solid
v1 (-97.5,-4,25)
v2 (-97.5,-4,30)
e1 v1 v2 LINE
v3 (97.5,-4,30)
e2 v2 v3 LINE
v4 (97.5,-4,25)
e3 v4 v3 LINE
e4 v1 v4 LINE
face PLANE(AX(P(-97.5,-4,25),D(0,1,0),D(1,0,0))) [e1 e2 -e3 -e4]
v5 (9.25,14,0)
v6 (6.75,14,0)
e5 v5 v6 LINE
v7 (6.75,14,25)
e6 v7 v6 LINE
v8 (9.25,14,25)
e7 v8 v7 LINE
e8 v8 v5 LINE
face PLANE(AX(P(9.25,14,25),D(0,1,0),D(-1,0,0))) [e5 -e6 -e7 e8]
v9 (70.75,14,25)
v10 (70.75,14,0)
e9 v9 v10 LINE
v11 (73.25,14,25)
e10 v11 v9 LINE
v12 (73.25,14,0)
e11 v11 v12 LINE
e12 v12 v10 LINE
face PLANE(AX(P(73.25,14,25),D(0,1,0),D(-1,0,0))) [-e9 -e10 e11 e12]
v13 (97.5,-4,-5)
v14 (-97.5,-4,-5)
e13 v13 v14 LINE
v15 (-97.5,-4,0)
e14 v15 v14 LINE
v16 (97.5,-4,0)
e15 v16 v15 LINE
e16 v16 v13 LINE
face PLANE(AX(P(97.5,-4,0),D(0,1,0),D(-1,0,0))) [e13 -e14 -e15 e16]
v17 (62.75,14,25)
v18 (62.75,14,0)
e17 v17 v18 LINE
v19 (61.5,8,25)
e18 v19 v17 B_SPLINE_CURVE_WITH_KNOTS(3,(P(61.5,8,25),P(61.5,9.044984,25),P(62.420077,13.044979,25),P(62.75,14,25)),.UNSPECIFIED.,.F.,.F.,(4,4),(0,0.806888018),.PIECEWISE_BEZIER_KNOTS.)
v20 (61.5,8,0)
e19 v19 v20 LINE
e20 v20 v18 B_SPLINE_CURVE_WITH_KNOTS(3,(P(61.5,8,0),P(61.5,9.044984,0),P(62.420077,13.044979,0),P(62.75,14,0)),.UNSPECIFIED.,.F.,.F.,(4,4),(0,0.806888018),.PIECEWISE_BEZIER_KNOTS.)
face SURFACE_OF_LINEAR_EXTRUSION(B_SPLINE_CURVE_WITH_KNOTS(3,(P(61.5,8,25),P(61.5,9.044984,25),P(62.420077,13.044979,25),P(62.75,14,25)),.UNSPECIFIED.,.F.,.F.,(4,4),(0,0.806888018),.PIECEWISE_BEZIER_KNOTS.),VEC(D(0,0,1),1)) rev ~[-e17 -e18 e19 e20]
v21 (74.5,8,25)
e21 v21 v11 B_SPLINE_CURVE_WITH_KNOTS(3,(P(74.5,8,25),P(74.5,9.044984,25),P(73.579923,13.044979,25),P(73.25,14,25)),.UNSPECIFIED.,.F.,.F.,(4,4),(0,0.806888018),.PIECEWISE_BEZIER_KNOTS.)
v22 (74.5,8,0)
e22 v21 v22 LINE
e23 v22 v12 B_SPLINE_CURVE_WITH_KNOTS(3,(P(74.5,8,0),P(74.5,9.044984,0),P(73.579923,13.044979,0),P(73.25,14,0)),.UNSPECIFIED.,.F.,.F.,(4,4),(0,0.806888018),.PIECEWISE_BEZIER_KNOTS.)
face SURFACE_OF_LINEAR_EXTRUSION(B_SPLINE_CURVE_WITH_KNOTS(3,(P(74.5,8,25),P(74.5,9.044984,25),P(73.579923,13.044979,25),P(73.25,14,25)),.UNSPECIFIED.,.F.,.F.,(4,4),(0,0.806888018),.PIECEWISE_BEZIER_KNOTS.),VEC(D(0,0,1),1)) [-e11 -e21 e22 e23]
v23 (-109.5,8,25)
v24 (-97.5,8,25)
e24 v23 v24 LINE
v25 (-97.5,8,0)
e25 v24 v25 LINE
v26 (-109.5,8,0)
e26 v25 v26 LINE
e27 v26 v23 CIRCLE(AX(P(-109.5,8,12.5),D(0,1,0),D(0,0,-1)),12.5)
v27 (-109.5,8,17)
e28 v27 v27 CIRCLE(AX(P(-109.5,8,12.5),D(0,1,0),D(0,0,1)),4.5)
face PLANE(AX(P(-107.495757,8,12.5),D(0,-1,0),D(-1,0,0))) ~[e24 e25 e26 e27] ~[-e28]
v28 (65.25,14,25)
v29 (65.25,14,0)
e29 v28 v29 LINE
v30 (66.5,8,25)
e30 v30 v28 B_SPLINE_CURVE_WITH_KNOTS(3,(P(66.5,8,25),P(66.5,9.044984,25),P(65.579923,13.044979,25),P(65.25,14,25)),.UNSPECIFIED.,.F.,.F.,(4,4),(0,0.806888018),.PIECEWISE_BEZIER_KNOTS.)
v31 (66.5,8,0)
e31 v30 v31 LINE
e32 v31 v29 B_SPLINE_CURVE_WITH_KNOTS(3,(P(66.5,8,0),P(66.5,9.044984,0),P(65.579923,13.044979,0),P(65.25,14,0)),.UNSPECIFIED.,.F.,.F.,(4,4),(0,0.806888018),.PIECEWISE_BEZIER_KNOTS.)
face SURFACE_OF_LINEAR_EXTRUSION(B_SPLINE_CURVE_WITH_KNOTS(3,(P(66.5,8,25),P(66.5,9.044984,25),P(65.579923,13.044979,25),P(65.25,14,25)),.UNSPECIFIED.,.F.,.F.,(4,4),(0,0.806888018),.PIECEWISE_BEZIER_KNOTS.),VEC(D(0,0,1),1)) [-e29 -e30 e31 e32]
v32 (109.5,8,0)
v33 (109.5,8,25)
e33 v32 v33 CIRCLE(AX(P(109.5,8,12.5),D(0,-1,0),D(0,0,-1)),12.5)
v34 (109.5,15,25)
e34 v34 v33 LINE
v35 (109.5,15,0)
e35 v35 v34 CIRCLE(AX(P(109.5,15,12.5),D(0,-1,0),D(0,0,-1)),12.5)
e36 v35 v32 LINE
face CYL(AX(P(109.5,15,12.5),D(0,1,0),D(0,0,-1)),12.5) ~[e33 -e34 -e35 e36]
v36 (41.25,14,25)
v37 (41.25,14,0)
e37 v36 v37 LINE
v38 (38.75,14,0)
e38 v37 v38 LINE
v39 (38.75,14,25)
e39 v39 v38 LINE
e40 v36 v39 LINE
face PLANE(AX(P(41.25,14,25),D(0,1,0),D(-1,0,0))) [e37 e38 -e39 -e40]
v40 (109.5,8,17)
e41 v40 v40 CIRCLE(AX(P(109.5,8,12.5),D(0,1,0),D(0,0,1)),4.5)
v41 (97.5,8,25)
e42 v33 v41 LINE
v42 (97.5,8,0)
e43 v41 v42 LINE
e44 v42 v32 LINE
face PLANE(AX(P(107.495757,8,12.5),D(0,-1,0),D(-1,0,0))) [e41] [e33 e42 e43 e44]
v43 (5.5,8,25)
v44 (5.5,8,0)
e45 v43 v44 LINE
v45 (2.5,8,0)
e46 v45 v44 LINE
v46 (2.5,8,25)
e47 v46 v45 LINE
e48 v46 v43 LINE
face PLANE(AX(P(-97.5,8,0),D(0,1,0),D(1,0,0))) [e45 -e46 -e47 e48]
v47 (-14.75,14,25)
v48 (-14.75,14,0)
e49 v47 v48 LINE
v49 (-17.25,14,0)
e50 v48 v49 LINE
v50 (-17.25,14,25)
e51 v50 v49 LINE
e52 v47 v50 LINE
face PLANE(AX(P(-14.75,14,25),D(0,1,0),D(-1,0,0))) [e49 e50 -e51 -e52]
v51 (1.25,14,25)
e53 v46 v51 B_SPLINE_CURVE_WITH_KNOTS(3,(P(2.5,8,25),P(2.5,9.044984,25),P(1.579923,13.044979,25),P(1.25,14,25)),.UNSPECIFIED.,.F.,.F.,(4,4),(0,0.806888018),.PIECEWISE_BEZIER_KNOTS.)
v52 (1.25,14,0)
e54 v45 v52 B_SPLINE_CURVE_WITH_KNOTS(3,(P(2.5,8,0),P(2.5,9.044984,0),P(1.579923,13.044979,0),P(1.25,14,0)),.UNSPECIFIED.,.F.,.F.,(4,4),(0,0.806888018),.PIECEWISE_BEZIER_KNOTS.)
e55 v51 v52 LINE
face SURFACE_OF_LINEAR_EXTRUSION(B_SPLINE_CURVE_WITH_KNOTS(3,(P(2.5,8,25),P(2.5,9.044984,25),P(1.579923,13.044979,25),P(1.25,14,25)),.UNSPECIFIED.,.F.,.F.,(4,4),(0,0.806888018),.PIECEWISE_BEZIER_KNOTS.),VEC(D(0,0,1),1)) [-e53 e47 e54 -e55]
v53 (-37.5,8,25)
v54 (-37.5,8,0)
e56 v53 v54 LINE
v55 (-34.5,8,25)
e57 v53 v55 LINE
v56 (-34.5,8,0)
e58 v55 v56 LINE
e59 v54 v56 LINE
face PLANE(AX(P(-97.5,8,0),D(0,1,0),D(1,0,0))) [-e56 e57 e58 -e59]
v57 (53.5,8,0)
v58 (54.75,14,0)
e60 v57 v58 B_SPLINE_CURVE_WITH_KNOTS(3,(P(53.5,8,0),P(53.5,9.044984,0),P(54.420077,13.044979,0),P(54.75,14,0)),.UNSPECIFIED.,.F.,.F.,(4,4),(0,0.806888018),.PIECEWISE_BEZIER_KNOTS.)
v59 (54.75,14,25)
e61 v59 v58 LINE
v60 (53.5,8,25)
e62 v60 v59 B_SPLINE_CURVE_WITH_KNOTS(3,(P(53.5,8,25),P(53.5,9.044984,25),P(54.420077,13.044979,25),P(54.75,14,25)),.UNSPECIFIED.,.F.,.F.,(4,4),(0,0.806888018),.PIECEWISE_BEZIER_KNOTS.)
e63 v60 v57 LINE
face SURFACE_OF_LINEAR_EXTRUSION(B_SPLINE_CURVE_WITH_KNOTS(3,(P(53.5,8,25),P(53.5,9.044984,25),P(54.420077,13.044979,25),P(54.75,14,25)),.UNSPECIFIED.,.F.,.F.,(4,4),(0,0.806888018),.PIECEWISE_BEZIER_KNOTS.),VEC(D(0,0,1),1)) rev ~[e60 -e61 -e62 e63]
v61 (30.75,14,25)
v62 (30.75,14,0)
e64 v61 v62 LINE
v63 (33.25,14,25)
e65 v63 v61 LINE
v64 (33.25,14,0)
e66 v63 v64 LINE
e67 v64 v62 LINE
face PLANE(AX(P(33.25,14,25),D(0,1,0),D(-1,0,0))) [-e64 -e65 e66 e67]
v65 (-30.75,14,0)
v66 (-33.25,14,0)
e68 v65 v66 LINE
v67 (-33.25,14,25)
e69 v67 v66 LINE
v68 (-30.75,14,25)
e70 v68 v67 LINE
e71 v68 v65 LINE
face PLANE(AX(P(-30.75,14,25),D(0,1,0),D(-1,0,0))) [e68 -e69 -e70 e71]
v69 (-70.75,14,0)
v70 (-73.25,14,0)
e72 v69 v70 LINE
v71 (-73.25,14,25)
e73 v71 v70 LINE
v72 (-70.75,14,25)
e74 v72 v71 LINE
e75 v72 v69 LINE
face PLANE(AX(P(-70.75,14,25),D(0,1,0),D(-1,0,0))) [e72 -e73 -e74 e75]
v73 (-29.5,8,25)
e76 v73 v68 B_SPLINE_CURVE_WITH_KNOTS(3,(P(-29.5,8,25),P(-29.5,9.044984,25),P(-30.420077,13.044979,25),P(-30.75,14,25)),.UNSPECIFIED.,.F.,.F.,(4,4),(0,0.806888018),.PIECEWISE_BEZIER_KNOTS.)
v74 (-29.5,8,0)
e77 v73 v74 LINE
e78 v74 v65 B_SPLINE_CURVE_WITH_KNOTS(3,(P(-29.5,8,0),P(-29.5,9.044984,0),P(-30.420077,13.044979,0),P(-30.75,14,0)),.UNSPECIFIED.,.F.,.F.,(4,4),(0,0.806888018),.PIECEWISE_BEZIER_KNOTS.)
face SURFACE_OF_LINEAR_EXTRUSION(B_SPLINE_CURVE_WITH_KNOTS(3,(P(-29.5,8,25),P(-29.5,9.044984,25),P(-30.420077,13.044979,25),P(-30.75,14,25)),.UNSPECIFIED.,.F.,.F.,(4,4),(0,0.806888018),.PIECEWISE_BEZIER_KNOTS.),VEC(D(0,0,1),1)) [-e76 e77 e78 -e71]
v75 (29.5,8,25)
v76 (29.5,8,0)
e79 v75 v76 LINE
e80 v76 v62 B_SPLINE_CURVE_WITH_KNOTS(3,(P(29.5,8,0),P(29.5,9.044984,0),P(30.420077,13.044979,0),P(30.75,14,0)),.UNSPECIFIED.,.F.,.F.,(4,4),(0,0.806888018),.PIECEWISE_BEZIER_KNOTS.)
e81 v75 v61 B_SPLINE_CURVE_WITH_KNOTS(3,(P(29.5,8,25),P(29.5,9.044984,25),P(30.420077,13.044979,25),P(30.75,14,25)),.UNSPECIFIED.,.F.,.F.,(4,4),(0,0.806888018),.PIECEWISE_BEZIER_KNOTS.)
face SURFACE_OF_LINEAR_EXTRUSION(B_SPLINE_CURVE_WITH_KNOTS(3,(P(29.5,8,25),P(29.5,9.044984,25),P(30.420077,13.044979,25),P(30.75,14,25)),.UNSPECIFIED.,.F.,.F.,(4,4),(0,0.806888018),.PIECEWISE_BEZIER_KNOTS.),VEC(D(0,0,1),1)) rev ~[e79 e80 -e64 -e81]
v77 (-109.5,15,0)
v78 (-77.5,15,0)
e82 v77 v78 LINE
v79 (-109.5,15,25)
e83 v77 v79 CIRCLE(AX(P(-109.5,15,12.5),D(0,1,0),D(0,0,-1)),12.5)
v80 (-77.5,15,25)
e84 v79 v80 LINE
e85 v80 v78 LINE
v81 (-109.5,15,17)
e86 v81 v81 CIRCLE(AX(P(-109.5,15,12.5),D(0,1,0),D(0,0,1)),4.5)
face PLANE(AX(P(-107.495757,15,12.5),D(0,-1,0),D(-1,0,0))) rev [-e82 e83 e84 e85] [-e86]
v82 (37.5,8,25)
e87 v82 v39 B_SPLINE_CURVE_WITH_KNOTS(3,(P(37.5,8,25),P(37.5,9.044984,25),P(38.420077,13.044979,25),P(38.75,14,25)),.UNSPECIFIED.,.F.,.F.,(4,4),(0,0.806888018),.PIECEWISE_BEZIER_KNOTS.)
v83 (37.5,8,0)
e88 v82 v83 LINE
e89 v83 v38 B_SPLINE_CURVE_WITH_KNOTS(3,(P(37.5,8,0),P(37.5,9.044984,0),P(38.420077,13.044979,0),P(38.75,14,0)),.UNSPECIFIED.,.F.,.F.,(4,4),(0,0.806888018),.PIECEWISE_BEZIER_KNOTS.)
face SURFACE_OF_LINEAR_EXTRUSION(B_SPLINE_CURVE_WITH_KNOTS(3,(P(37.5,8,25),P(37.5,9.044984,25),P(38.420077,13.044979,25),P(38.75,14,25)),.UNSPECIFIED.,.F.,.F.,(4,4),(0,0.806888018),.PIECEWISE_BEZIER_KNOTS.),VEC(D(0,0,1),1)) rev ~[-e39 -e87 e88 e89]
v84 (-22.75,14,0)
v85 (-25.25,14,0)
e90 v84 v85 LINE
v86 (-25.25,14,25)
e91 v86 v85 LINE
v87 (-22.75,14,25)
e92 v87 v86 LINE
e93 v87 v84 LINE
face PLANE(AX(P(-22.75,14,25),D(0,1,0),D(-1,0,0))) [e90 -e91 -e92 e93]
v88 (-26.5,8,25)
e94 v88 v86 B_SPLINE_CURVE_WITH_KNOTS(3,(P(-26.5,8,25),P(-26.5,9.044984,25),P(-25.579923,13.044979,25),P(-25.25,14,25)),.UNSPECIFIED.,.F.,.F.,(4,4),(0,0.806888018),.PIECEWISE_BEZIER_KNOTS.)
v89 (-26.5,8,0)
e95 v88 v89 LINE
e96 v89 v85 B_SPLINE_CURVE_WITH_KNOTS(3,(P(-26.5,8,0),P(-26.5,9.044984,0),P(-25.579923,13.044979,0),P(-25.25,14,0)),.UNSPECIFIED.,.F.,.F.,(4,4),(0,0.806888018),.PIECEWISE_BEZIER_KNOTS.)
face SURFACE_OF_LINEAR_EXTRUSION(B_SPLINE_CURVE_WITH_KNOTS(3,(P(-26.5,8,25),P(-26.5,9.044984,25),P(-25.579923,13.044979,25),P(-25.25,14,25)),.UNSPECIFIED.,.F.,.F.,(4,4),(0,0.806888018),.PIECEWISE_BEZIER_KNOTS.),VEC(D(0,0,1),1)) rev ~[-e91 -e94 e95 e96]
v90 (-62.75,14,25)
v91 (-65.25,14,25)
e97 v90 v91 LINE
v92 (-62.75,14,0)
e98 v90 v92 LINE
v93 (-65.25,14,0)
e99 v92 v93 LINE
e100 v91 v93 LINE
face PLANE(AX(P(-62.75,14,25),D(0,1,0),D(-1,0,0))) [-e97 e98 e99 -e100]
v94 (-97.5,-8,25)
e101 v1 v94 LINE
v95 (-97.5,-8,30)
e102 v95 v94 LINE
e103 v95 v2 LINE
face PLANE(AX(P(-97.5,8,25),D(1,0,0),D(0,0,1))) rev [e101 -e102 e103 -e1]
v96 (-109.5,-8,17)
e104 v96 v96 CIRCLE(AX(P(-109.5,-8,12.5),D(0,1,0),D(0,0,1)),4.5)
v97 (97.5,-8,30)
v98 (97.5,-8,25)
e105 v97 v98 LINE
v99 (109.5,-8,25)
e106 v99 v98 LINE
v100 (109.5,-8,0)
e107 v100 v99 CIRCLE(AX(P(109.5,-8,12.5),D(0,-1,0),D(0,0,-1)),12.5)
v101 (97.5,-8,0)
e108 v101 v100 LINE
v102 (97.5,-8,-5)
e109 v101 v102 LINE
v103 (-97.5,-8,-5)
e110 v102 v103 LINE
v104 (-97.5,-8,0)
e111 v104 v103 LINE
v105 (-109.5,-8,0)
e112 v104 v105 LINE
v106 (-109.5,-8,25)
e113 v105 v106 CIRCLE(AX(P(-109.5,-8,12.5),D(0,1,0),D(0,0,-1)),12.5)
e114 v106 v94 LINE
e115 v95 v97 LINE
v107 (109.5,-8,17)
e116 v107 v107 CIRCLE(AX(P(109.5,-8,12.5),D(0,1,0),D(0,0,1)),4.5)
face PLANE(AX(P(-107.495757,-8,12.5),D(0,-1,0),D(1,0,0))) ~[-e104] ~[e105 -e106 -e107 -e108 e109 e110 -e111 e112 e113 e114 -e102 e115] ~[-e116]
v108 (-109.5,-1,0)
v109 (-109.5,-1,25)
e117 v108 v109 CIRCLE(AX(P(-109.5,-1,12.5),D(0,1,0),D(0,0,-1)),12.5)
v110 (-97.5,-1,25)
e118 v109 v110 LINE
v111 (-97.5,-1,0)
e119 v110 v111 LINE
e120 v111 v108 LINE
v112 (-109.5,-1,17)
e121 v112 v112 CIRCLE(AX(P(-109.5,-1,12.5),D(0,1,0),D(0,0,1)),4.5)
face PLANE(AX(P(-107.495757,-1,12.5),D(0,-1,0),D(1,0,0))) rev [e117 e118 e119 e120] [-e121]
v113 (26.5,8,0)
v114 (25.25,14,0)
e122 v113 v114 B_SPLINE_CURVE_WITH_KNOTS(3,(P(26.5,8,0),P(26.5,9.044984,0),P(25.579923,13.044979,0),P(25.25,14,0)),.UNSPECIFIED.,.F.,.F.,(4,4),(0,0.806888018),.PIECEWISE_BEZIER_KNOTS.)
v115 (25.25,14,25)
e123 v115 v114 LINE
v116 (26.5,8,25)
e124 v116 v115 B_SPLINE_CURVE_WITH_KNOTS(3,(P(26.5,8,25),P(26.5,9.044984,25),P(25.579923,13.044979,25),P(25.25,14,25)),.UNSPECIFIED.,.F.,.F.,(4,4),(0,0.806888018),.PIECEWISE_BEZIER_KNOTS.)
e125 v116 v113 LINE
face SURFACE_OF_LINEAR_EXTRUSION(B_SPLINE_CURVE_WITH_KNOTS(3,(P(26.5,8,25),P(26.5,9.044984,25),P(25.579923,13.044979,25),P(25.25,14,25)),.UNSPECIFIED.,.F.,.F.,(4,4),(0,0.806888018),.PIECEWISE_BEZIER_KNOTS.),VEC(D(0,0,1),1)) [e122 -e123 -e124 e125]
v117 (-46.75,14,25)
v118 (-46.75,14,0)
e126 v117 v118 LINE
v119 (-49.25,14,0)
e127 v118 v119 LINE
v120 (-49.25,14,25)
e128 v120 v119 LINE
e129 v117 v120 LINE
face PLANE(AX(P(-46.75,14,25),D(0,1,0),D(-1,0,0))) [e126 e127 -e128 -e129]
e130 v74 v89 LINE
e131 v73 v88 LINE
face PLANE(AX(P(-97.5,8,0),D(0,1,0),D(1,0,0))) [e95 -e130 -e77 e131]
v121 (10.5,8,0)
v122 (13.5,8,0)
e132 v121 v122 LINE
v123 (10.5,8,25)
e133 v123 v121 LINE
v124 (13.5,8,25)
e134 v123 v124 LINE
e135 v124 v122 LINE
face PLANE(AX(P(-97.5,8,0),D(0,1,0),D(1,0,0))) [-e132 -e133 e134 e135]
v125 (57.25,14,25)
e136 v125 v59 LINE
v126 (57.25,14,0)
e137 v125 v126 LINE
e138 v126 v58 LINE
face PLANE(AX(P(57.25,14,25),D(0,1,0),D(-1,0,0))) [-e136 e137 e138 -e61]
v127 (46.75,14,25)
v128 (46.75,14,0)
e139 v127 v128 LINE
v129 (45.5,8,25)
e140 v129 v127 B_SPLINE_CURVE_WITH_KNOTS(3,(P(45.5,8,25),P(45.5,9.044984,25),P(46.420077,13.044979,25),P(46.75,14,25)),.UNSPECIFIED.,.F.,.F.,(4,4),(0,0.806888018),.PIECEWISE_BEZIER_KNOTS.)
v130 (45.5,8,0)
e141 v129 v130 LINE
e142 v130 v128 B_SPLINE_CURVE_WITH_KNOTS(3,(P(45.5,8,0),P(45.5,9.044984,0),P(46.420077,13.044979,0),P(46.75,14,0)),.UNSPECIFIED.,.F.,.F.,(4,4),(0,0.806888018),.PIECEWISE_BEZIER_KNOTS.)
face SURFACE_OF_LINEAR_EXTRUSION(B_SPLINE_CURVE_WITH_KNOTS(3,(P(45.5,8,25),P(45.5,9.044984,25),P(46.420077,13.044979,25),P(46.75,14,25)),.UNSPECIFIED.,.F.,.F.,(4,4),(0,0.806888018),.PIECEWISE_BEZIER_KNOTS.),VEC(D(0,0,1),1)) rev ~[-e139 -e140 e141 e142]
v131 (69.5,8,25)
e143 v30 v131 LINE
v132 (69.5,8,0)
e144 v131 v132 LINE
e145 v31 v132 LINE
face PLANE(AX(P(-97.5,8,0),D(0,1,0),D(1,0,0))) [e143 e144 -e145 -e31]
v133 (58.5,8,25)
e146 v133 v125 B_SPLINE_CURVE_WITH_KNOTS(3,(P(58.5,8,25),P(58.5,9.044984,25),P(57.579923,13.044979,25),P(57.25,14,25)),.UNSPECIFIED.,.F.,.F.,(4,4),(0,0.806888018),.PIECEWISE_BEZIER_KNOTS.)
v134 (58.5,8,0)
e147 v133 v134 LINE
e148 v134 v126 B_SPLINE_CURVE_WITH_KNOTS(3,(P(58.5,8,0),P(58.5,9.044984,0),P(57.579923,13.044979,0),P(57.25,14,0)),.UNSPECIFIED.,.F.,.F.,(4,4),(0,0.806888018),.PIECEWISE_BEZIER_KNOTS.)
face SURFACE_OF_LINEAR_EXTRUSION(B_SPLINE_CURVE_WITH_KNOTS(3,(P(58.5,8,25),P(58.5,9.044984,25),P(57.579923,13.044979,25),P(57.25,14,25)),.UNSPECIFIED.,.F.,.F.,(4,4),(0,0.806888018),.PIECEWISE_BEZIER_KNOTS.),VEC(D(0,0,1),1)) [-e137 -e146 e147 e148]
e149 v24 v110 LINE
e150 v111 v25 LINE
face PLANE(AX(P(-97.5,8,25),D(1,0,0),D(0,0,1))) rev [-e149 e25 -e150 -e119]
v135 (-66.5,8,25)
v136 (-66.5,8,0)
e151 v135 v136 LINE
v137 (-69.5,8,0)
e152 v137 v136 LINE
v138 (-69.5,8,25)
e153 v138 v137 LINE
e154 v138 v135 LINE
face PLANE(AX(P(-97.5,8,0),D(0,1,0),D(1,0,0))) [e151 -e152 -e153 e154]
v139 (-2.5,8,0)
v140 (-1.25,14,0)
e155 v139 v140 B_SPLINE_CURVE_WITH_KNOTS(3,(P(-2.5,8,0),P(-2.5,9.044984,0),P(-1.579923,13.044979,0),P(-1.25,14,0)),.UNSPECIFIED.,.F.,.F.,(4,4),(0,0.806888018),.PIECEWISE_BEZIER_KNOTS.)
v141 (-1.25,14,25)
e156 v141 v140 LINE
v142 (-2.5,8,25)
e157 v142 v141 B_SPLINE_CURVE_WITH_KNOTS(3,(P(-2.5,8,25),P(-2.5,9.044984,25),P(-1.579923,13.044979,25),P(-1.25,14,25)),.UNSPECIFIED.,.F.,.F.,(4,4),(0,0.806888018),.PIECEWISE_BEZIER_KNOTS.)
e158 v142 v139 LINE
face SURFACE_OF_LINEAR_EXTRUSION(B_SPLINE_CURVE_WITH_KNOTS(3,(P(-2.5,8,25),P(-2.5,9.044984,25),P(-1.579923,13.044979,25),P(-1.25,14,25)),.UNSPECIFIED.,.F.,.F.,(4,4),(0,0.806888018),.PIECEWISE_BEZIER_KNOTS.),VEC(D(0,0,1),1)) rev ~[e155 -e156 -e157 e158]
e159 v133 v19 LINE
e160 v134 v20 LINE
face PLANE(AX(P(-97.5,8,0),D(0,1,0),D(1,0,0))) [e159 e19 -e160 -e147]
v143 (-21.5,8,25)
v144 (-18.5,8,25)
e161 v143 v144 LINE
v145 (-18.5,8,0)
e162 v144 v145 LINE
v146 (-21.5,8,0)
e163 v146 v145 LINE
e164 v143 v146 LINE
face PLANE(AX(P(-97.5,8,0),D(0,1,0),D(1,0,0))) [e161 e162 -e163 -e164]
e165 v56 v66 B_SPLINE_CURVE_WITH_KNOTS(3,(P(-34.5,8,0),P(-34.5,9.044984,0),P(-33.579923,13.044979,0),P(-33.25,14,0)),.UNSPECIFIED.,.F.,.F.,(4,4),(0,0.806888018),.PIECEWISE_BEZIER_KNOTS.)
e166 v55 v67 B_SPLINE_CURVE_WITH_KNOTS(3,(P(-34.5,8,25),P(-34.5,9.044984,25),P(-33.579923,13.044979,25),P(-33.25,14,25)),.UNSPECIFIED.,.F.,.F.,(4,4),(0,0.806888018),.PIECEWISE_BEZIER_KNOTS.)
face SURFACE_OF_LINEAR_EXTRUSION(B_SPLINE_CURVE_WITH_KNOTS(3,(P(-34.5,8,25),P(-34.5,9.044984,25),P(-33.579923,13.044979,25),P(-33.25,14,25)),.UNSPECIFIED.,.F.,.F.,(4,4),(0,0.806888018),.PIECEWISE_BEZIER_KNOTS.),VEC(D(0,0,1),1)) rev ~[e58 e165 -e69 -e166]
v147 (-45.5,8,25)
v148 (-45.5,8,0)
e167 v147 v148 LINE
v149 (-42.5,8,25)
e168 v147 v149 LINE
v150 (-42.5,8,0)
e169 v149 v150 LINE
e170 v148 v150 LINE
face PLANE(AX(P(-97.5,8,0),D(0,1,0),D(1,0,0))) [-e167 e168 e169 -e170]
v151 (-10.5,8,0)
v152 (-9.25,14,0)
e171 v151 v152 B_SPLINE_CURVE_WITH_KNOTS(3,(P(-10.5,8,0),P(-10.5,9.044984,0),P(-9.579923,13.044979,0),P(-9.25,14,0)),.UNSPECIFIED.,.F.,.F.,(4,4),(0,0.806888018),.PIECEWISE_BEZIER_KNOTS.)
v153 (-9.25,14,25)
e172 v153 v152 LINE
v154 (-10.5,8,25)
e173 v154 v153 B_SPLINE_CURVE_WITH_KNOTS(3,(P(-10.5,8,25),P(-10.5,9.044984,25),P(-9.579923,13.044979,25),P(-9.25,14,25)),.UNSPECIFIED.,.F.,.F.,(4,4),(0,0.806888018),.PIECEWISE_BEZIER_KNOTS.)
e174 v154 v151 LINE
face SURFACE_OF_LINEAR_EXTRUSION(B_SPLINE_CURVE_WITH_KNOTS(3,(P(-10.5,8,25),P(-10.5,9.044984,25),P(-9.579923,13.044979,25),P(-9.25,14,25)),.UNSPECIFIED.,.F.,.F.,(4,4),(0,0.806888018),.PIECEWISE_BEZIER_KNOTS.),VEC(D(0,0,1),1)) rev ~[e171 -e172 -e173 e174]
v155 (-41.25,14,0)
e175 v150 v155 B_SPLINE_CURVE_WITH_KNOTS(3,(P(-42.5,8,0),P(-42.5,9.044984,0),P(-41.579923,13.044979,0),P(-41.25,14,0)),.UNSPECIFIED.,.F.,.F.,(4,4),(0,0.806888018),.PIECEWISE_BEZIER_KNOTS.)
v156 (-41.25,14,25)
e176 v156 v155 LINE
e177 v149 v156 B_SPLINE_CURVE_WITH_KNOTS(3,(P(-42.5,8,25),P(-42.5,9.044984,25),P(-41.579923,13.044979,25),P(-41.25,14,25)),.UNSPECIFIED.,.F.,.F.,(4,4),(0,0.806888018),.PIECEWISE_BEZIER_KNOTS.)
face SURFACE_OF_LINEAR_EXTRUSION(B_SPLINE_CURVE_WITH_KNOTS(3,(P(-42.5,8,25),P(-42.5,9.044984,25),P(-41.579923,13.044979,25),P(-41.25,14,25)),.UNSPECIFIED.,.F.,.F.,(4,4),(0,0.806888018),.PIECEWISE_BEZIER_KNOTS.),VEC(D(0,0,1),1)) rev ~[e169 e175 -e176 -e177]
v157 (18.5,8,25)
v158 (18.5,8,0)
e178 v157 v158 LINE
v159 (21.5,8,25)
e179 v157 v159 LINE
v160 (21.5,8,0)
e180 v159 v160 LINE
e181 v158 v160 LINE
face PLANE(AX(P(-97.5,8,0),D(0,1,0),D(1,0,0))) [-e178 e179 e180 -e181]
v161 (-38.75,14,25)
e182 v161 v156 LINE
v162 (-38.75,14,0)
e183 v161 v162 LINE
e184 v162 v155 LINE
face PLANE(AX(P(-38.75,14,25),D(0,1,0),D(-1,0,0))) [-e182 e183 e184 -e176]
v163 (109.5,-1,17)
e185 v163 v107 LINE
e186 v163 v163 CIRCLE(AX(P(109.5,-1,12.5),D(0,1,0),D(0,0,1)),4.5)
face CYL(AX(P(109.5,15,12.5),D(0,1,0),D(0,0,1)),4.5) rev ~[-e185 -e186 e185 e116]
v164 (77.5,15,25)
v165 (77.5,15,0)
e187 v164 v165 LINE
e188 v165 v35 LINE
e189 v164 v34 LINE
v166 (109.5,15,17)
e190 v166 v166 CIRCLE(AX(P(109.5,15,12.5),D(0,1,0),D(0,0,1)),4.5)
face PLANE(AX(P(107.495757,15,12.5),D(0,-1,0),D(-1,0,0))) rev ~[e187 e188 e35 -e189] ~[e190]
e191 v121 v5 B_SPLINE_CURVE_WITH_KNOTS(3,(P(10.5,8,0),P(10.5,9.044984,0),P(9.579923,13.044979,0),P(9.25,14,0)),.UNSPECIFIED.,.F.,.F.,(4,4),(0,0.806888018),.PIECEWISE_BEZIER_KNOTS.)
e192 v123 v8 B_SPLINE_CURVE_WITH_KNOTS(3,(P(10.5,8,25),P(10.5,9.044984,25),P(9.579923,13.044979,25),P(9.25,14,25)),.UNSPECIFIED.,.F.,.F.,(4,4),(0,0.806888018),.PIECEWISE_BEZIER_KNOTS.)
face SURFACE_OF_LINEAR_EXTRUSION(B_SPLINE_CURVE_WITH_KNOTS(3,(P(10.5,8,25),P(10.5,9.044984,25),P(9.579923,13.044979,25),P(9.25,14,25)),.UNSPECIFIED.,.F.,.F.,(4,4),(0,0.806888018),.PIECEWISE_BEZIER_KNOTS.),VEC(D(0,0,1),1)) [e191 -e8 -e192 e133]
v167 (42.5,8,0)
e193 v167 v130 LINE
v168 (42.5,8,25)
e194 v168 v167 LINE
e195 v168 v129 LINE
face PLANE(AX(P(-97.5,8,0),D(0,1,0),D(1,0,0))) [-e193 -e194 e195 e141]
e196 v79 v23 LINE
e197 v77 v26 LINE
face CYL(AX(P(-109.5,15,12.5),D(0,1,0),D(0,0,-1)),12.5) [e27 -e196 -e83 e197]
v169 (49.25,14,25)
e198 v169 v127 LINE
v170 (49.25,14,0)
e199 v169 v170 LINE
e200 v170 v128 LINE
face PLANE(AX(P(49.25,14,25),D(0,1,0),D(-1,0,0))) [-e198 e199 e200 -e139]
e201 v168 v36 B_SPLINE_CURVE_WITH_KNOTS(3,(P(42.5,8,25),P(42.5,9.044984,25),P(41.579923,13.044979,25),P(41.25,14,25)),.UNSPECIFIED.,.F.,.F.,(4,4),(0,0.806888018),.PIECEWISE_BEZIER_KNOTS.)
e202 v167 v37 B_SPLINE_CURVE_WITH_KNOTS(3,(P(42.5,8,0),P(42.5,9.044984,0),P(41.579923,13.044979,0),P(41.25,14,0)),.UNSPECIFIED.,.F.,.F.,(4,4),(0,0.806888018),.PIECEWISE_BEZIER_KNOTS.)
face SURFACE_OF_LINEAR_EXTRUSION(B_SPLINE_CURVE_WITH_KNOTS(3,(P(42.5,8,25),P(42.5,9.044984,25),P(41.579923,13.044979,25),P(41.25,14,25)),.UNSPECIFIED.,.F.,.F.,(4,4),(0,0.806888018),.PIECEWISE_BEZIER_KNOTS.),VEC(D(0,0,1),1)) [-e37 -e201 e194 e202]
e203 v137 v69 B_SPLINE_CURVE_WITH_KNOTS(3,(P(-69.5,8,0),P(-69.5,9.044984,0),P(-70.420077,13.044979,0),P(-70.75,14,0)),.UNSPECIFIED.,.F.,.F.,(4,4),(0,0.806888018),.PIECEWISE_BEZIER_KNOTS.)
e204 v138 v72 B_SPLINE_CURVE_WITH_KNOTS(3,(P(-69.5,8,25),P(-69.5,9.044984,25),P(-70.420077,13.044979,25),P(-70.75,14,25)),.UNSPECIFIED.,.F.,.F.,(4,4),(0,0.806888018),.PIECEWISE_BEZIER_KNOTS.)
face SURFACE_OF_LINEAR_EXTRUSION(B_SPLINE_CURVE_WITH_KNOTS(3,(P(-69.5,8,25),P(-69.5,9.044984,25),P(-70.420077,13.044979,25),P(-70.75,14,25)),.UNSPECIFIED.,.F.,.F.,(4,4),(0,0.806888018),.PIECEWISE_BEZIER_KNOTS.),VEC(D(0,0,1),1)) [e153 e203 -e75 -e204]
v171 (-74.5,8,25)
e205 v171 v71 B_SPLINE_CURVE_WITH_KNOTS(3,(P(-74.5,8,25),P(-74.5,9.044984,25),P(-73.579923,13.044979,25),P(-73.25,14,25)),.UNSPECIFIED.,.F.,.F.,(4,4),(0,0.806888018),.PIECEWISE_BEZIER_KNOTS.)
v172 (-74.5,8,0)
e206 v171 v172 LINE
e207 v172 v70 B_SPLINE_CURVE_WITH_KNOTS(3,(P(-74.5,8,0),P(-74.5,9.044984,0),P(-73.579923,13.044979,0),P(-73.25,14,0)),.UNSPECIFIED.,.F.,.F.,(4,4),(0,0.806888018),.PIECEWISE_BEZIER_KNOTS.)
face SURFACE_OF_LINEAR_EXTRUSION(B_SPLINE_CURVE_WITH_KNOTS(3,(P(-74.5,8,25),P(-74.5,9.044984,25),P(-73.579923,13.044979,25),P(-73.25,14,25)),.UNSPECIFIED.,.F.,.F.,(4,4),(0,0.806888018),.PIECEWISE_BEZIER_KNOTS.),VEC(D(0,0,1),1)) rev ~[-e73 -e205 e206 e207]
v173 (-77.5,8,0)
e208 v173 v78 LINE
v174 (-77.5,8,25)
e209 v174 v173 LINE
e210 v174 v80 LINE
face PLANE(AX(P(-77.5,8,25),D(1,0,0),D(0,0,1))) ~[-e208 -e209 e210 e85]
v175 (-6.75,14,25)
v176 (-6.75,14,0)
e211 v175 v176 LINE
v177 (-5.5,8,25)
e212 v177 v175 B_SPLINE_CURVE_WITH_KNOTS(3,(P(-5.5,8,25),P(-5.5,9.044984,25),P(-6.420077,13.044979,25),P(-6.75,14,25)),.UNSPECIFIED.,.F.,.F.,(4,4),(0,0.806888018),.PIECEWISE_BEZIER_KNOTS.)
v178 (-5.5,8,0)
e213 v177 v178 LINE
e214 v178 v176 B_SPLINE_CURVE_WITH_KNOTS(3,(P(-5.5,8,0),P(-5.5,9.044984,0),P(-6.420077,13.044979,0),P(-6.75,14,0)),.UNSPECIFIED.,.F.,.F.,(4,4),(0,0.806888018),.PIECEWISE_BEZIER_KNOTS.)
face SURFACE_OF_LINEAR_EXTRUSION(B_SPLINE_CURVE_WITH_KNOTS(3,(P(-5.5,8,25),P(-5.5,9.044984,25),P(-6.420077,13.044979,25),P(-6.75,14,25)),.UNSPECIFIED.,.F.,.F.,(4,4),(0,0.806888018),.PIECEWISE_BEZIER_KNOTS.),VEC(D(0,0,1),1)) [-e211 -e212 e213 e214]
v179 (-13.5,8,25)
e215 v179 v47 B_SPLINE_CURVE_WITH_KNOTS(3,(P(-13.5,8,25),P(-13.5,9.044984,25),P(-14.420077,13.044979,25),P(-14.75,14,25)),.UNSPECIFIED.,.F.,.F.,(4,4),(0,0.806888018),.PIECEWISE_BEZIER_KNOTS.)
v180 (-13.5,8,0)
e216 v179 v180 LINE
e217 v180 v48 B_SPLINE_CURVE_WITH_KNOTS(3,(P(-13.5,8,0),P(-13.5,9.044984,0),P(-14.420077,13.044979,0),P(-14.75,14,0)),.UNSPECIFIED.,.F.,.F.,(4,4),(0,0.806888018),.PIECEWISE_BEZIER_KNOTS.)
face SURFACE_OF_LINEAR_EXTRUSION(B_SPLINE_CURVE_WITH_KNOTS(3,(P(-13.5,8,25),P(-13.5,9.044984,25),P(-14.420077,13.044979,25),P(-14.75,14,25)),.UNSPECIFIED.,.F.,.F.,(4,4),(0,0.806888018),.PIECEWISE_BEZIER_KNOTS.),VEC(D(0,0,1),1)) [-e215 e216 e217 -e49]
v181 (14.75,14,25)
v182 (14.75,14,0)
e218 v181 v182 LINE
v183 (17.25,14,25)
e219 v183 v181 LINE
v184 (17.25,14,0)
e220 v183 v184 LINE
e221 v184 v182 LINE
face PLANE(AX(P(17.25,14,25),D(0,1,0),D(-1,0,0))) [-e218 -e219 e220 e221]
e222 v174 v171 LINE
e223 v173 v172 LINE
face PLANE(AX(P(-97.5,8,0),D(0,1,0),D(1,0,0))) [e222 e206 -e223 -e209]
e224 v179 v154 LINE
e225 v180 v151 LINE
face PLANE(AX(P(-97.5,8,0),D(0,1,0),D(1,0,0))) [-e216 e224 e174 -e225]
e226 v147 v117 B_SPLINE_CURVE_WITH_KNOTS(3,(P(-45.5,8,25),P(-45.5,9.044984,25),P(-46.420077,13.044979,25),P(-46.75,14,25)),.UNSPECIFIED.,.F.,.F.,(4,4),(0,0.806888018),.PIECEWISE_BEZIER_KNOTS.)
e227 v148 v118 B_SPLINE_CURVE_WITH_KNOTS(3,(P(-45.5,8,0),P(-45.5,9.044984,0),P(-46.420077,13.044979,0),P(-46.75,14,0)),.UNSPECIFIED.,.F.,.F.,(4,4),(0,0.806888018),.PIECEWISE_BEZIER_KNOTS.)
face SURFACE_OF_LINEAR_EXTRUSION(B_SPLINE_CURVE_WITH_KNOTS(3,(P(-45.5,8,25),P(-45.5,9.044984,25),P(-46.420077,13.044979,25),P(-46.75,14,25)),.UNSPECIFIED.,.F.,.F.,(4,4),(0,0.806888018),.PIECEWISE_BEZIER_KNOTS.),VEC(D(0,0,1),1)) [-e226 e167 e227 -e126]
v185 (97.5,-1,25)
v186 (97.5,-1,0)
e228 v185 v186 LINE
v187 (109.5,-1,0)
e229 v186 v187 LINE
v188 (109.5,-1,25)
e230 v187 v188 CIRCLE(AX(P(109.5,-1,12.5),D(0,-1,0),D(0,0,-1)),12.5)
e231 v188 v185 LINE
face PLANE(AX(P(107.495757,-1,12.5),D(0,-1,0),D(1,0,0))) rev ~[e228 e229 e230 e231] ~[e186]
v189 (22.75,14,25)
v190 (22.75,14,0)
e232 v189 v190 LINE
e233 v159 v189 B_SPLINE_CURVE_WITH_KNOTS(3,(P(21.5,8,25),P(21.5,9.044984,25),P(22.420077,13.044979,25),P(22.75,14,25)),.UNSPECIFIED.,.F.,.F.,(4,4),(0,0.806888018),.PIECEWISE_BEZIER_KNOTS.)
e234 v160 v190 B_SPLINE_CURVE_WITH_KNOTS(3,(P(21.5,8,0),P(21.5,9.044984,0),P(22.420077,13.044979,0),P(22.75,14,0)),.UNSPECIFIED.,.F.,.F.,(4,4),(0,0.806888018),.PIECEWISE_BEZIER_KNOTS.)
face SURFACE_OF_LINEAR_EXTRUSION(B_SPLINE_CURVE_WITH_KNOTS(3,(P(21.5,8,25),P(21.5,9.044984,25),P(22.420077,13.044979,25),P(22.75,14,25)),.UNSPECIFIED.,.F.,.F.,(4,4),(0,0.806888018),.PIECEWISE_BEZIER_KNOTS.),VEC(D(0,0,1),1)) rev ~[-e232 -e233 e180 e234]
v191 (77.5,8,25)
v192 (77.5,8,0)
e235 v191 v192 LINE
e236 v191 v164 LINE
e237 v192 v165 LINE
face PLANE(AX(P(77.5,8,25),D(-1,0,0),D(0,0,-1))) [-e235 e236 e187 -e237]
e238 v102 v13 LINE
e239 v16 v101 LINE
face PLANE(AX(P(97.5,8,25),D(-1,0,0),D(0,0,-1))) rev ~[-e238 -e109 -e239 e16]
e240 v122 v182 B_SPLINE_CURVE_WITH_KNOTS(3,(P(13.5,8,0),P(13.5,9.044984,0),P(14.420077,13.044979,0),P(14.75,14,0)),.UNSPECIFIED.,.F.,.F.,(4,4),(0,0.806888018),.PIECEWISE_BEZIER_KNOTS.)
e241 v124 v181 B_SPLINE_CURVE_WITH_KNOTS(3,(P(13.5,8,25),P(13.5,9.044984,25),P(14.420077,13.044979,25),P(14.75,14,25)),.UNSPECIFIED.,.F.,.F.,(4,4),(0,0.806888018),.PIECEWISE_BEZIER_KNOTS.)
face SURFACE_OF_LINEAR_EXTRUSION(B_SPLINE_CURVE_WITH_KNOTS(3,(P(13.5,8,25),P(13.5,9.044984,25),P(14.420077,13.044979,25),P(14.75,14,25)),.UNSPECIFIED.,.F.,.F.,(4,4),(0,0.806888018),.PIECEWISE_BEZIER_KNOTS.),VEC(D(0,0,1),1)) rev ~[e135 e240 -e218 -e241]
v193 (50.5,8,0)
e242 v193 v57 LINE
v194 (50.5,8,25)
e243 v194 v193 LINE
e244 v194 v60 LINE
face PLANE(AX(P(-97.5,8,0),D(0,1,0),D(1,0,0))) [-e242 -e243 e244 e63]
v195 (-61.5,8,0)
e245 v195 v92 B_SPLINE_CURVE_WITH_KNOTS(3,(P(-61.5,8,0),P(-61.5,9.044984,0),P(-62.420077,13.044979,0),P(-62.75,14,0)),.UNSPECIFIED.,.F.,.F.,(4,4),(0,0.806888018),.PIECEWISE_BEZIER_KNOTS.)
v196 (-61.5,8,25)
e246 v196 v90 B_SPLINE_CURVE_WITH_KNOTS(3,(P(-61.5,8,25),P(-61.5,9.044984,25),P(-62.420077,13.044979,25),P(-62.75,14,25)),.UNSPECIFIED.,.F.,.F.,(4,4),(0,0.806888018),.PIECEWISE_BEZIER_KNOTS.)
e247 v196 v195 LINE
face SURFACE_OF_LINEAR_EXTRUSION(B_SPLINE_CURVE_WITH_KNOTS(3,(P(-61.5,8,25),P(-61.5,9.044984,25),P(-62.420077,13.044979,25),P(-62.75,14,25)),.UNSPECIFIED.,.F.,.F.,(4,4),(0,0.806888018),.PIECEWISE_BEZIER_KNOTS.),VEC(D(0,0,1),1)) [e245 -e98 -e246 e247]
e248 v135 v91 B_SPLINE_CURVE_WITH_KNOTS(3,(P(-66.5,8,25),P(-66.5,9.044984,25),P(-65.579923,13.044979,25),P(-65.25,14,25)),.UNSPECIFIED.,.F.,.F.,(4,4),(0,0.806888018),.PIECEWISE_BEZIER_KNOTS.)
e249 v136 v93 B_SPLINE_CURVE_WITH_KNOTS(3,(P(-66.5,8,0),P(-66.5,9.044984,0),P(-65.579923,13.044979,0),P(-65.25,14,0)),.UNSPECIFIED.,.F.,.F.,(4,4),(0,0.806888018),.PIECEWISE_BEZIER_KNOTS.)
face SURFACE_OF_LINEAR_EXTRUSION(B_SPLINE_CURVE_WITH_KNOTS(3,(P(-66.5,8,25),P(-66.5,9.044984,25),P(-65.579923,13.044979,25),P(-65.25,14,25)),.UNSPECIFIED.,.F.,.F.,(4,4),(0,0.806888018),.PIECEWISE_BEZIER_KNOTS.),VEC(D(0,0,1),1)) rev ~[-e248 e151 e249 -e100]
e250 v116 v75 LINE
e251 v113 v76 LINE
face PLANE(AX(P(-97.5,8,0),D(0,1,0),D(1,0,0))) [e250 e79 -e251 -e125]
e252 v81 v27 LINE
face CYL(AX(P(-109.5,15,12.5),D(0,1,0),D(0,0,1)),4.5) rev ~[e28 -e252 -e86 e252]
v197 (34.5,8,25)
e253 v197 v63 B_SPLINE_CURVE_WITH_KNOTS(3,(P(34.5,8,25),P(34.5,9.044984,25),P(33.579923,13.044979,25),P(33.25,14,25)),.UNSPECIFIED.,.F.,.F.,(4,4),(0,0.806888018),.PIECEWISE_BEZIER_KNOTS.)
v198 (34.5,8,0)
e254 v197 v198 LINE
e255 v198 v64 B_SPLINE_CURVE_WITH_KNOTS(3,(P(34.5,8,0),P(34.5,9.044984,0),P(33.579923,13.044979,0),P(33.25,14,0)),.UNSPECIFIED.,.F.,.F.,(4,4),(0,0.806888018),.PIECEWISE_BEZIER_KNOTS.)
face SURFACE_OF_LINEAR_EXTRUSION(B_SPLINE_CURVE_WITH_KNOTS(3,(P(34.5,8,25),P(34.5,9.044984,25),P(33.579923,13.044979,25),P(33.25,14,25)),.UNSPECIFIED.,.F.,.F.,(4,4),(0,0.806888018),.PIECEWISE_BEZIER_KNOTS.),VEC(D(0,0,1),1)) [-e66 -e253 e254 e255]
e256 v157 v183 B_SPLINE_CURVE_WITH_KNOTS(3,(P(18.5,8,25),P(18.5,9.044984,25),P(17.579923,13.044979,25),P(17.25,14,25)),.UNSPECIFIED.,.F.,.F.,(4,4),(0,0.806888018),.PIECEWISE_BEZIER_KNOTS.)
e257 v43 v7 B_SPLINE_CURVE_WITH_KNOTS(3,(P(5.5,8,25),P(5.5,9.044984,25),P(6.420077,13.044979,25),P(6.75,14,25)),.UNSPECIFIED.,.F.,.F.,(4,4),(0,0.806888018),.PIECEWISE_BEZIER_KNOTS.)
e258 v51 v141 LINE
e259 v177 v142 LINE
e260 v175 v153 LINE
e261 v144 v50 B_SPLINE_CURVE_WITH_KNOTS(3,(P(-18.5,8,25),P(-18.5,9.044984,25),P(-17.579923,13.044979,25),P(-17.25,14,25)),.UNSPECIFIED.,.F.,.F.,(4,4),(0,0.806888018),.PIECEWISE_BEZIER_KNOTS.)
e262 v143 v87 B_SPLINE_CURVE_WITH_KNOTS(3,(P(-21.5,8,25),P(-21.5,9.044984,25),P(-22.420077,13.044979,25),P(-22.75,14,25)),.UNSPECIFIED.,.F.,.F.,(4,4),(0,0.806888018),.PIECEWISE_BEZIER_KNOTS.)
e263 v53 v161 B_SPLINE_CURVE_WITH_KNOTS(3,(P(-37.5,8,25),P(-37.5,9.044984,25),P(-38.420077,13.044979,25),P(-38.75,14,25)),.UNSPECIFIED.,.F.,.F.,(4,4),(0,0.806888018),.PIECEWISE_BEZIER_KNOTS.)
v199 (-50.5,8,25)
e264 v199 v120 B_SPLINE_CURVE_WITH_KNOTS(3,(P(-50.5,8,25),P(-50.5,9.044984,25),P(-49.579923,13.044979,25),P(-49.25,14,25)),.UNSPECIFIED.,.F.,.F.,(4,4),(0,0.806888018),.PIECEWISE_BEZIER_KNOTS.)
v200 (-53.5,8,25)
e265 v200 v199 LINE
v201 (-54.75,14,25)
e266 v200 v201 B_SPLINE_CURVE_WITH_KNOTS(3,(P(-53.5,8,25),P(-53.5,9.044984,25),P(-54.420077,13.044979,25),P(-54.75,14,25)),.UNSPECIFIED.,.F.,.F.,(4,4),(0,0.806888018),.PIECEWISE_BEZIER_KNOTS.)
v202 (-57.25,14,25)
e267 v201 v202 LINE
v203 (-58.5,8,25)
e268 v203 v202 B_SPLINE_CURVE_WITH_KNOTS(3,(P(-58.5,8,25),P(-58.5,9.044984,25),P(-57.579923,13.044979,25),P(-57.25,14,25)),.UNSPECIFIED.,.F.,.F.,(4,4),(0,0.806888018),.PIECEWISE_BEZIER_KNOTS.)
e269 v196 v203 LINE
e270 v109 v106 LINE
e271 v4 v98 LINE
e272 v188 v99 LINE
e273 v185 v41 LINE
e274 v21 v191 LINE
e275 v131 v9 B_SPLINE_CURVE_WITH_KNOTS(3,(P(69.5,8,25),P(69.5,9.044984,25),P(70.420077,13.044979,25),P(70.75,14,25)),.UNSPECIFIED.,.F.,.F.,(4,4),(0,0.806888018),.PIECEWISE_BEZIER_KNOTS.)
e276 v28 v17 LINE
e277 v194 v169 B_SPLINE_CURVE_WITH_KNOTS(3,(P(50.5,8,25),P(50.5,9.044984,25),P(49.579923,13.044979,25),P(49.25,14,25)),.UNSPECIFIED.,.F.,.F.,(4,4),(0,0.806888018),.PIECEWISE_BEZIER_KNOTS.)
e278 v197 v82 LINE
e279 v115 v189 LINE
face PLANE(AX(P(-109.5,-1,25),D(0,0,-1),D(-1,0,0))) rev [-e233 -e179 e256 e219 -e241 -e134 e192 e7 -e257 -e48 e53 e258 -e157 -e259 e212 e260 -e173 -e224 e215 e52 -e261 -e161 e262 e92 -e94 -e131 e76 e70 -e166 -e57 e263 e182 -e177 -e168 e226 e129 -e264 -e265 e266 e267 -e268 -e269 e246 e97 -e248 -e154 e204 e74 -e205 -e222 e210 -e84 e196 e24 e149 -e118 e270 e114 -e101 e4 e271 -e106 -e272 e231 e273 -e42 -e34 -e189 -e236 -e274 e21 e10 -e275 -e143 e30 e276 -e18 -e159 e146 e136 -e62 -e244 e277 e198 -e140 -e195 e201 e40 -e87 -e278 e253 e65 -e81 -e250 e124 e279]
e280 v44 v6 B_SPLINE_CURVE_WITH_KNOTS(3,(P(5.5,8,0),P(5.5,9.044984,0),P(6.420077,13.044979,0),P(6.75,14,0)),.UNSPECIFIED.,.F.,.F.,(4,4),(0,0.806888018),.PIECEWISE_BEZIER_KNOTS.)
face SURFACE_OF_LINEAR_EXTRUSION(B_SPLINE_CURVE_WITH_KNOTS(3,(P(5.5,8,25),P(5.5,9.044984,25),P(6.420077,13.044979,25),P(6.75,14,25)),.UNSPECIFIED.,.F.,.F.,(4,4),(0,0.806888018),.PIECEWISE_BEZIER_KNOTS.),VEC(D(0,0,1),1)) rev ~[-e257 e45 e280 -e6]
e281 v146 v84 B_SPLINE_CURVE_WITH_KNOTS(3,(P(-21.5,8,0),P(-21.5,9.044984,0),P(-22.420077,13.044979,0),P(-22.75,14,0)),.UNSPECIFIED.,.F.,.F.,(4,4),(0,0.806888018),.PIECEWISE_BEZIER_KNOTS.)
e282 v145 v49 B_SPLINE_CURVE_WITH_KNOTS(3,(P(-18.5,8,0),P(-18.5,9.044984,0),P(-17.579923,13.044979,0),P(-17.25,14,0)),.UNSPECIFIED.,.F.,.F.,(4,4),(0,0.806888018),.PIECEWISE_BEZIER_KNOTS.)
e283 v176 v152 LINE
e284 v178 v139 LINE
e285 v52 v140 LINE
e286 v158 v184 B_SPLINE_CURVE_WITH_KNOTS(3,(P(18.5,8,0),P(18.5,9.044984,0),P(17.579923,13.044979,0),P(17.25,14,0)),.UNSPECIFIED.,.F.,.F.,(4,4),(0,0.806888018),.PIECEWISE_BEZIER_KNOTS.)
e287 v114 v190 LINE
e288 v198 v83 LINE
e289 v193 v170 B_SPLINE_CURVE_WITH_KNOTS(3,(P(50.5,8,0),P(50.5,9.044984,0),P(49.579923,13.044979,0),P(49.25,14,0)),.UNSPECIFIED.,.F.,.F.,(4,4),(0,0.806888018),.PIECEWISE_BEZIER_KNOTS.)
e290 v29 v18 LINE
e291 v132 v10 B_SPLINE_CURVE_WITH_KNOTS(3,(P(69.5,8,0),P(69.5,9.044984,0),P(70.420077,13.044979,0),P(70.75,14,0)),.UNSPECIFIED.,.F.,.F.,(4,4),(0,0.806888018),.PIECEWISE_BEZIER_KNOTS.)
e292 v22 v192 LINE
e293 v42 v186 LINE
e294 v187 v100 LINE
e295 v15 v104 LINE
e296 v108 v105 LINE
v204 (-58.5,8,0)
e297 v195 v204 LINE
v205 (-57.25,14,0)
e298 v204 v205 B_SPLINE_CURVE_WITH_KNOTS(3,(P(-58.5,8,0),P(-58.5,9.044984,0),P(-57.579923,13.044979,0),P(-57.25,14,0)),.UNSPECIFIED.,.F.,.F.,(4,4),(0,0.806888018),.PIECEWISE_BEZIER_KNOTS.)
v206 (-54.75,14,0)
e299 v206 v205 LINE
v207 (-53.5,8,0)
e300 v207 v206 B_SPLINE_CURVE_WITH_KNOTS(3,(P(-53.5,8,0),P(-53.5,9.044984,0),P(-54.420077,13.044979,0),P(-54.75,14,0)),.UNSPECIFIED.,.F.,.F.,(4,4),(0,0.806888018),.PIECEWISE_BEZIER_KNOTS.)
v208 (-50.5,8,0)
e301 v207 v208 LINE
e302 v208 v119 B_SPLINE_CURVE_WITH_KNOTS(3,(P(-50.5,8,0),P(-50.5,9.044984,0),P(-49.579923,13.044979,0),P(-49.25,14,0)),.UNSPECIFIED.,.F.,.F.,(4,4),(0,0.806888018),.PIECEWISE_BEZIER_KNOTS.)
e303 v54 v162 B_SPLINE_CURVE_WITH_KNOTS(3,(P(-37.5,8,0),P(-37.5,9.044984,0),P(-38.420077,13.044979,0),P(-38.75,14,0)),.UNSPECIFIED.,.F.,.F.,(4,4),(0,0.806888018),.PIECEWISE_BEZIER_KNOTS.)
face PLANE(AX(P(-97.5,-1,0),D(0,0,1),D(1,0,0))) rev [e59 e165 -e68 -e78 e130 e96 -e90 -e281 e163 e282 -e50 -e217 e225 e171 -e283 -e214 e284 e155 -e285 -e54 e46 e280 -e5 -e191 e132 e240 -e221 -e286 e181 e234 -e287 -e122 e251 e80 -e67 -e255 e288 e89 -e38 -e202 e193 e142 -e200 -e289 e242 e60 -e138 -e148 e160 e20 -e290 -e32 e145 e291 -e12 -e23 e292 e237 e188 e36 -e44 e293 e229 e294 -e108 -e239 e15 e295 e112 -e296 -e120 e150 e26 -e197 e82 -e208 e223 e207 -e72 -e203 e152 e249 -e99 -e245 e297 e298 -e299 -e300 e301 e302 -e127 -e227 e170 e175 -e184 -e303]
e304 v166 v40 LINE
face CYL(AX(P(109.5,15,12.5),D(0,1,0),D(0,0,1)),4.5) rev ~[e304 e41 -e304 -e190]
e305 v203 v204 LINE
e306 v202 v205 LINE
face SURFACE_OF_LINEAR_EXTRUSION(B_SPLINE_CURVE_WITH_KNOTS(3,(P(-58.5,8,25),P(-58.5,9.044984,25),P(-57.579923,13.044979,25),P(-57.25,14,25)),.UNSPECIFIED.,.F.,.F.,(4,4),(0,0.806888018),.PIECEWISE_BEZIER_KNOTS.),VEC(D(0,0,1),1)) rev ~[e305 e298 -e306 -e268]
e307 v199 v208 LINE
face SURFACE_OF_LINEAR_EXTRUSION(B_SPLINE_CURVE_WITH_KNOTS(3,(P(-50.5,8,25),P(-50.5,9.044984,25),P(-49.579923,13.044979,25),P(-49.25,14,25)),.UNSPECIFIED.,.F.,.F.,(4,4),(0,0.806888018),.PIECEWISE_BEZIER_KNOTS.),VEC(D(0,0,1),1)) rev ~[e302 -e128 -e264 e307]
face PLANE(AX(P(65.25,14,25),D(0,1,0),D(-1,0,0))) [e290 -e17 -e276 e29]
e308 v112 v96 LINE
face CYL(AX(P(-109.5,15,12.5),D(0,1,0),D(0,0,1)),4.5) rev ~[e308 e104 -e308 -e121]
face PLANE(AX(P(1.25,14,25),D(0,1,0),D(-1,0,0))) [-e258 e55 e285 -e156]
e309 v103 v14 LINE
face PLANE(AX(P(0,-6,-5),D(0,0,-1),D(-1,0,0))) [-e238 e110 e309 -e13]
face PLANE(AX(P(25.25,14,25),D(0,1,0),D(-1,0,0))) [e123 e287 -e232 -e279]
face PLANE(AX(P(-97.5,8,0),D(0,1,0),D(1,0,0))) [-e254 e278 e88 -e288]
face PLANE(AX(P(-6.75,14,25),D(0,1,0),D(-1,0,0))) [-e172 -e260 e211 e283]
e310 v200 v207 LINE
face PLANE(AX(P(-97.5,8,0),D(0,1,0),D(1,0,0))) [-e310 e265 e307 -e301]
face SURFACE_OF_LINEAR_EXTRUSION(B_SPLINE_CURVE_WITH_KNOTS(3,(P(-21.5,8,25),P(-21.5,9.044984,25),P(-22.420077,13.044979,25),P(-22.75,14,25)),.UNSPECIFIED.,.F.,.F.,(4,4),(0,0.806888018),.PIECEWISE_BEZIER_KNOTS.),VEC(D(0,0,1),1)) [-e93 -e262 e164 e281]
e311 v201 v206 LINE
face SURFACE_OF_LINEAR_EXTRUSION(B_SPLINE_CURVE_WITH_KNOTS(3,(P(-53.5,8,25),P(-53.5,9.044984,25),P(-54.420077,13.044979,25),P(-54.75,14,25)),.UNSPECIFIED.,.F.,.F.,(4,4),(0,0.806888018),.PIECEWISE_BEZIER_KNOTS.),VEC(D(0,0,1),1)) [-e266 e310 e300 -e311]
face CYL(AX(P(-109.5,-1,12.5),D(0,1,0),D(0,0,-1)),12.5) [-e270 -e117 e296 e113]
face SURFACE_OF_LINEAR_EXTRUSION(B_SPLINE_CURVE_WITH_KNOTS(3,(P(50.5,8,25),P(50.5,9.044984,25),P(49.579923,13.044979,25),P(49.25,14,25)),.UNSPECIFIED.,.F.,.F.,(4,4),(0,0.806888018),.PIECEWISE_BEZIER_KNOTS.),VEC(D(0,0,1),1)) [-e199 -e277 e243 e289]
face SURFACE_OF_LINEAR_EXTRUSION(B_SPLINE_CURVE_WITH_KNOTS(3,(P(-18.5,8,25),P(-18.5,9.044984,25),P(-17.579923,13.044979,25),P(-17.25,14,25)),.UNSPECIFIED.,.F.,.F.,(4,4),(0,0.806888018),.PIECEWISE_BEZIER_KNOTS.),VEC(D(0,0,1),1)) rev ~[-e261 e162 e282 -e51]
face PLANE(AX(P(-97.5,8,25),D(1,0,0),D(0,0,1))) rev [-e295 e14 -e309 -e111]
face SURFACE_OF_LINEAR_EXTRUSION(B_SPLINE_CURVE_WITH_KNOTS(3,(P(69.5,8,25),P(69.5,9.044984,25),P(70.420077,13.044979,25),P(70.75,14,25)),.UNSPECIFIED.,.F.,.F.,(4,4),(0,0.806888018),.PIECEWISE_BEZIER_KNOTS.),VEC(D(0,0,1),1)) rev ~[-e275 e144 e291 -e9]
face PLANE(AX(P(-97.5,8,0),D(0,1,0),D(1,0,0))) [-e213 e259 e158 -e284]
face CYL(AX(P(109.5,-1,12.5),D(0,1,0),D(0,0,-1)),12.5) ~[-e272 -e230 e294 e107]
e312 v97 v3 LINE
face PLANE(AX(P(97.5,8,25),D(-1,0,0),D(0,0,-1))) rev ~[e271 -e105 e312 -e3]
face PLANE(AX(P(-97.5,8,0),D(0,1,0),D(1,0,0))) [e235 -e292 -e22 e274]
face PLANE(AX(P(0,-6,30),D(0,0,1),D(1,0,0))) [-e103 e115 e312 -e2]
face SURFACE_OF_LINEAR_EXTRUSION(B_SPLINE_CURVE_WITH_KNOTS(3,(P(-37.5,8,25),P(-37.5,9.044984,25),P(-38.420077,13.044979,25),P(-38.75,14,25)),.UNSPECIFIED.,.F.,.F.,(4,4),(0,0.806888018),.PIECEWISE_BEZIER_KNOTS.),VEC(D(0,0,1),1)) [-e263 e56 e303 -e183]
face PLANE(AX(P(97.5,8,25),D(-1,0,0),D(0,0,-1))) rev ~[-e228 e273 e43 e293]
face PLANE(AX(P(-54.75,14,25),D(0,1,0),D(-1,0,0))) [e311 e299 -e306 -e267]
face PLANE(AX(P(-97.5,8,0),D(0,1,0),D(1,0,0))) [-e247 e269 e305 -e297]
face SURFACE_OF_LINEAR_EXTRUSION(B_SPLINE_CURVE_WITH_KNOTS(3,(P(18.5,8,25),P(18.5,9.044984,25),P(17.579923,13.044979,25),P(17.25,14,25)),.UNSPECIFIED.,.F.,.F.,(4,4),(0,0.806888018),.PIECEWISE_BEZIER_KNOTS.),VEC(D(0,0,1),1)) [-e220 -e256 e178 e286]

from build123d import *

# Parameters (mm, degrees)
SKETCH_1_W             = 195
SKETCH_1_H             = 16
EXTRUDE_1_DEPTH        = 25
EXTRUDE_2_DEPTH        = 25
PATTERN_LINEAR_1_COUNT = 10
PATTERN_LINEAR_1_PITCH = 8
PATTERN_LINEAR_2_COUNT = 10
PATTERN_LINEAR_2_PITCH = 8
SKETCH_3_W             = 195
SKETCH_3_H             = 4
EXTRUDE_3_DEPTH        = 5
SKETCH_5_W             = 195
SKETCH_5_H             = 4
EXTRUDE_4_DEPTH        = 5
SKETCH_6_W             = 20
SKETCH_6_H             = 25
EXTRUDE_5_DEPTH        = 7
EXTRUDE_6_DEPTH        = 7
EXTRUDE_START          = -7
EXTRUDE_7_DEPTH        = 7
SKETCH_9_R             = 4.5
CUT_EXTRUDE_1_DEPTH    = 50
SKETCH_10_R            = 4.5
CUT_EXTRUDE_2_DEPTH    = 50


with BuildPart() as part:
    # 草图1 → 凸台-拉伸1 (new body)
    with BuildSketch(Plane.XY):
        Rectangle(SKETCH_1_W, SKETCH_1_H)
    extrude(amount=EXTRUDE_1_DEPTH)

    # 草图2 → 凸台-拉伸2 (add)
    with BuildSketch(Plane.XY.offset(25)):
        with BuildLine():
            Line((-2.5, 8), (2.5, 8))
            add(Edge.make_bspline(
                [(2.5, 8), (2.5, 9.044984292), (1.579923026, 13.044978727), (1.25, 14)],
                knots=[0, 0, 0, 0, 0.806888018, 0.806888018, 0.806888018, 0.806888018], degree=3))
            Line((1.25, 14), (-1.25, 14))
            add(Edge.make_bspline(
                [(-2.5, 8), (-2.5, 9.044984292), (-1.579923026, 13.044978727), (-1.25, 14)],
                knots=[0, 0, 0, 0, 0.806888018, 0.806888018, 0.806888018, 0.806888018], degree=3))
        make_face()
    extrude_2 = extrude(amount=-EXTRUDE_2_DEPTH)

    # 阵列(线性)1: 凸台-拉伸2 ×10
    with Locations(*[(-i * PATTERN_LINEAR_1_PITCH, 0, 0) for i in range(1, PATTERN_LINEAR_1_COUNT)]):
        add(extrude_2)

    # 阵列(线性)2: 凸台-拉伸2 ×10
    with Locations(*[(i * PATTERN_LINEAR_2_PITCH, 0, 0) for i in range(1, PATTERN_LINEAR_2_COUNT)]):
        add(extrude_2)

    # 草图3 → 凸台-拉伸3 (add)
    with BuildSketch(Plane.XY.offset(25)):
        with Locations((0, -6)):
            Rectangle(SKETCH_3_W, SKETCH_3_H)
    extrude(amount=EXTRUDE_3_DEPTH)

    # 草图5 → 凸台-拉伸4 (add)
    with BuildSketch(Plane(origin=(0, 0, 0), x_dir=(-1, 0, 0), z_dir=(0, 0, -1))):
        with Locations((0, -6)):
            Rectangle(SKETCH_5_W, SKETCH_5_H)
    extrude(amount=EXTRUDE_4_DEPTH)

    # 草图6 → 凸台-拉伸5 (add)
    with BuildSketch(Plane(origin=(0, 8, 0), x_dir=(1, 0, 0), z_dir=(0, 1, 0))):
        with Locations((87.5, -12.5)):
            Rectangle(SKETCH_6_W, SKETCH_6_H)
    extrude_5 = extrude(amount=EXTRUDE_5_DEPTH)

    # 草图7 → 凸台-拉伸6 (add)
    with BuildSketch(Plane(origin=(0, 15, 0), x_dir=(1, 0, 0), z_dir=(0, 1, 0))):
        with BuildLine():
            Line((97.5, 0), (109.5, 0))
            ThreePointArc((109.5, 0), (122, -12.5), (109.5, -25))
            Line((109.5, -25), (97.5, -25))
            Line((97.5, -25), (97.5, 0))
        make_face()
    extrude_6 = extrude(amount=-EXTRUDE_6_DEPTH)

    # 镜向1: 凸台-拉伸5, 凸台-拉伸6 across plane
    add(extrude_5.mirror(Plane(origin=(0, 0, 0), x_dir=(0, 0, 1), z_dir=(1, 0, 0))))
    add(extrude_6.mirror(Plane(origin=(0, 0, 0), x_dir=(0, 0, 1), z_dir=(1, 0, 0))))

    # 草图8 → 凸台-拉伸7 (add)
    with BuildSketch(Plane.XZ.offset(8).offset(EXTRUDE_START)):
        with BuildLine():
            Line((97.5, 25), (97.5, 0))
            Line((97.5, 0), (109.5, 0))
            ThreePointArc((109.5, 0), (122, 12.5), (109.5, 25))
            Line((109.5, 25), (97.5, 25))
        make_face()
    extrude_7 = extrude(amount=EXTRUDE_7_DEPTH)

    # 镜向2: 凸台-拉伸7 across plane
    add(extrude_7.mirror(Plane(origin=(0, 0, 0), x_dir=(0, 0, 1), z_dir=(1, 0, 0))))

    # 草图9 → 切除-拉伸1 (cut)
    with BuildSketch(Plane(origin=(0, 15, 0), x_dir=(1, 0, 0), z_dir=(0, 1, 0))):
        with Locations((-109.5, -12.5)):
            Circle(SKETCH_9_R)
    extrude(amount=-CUT_EXTRUDE_1_DEPTH, mode=Mode.SUBTRACT)

    # 草图10 → 切除-拉伸2 (cut)
    with BuildSketch(Plane(origin=(0, 15, 0), x_dir=(1, 0, 0), z_dir=(0, 1, 0))):
        with Locations((109.5, -12.5)):
            Circle(SKETCH_10_R)
    extrude(amount=-CUT_EXTRUDE_2_DEPTH, mode=Mode.SUBTRACT)


solid = part.part
